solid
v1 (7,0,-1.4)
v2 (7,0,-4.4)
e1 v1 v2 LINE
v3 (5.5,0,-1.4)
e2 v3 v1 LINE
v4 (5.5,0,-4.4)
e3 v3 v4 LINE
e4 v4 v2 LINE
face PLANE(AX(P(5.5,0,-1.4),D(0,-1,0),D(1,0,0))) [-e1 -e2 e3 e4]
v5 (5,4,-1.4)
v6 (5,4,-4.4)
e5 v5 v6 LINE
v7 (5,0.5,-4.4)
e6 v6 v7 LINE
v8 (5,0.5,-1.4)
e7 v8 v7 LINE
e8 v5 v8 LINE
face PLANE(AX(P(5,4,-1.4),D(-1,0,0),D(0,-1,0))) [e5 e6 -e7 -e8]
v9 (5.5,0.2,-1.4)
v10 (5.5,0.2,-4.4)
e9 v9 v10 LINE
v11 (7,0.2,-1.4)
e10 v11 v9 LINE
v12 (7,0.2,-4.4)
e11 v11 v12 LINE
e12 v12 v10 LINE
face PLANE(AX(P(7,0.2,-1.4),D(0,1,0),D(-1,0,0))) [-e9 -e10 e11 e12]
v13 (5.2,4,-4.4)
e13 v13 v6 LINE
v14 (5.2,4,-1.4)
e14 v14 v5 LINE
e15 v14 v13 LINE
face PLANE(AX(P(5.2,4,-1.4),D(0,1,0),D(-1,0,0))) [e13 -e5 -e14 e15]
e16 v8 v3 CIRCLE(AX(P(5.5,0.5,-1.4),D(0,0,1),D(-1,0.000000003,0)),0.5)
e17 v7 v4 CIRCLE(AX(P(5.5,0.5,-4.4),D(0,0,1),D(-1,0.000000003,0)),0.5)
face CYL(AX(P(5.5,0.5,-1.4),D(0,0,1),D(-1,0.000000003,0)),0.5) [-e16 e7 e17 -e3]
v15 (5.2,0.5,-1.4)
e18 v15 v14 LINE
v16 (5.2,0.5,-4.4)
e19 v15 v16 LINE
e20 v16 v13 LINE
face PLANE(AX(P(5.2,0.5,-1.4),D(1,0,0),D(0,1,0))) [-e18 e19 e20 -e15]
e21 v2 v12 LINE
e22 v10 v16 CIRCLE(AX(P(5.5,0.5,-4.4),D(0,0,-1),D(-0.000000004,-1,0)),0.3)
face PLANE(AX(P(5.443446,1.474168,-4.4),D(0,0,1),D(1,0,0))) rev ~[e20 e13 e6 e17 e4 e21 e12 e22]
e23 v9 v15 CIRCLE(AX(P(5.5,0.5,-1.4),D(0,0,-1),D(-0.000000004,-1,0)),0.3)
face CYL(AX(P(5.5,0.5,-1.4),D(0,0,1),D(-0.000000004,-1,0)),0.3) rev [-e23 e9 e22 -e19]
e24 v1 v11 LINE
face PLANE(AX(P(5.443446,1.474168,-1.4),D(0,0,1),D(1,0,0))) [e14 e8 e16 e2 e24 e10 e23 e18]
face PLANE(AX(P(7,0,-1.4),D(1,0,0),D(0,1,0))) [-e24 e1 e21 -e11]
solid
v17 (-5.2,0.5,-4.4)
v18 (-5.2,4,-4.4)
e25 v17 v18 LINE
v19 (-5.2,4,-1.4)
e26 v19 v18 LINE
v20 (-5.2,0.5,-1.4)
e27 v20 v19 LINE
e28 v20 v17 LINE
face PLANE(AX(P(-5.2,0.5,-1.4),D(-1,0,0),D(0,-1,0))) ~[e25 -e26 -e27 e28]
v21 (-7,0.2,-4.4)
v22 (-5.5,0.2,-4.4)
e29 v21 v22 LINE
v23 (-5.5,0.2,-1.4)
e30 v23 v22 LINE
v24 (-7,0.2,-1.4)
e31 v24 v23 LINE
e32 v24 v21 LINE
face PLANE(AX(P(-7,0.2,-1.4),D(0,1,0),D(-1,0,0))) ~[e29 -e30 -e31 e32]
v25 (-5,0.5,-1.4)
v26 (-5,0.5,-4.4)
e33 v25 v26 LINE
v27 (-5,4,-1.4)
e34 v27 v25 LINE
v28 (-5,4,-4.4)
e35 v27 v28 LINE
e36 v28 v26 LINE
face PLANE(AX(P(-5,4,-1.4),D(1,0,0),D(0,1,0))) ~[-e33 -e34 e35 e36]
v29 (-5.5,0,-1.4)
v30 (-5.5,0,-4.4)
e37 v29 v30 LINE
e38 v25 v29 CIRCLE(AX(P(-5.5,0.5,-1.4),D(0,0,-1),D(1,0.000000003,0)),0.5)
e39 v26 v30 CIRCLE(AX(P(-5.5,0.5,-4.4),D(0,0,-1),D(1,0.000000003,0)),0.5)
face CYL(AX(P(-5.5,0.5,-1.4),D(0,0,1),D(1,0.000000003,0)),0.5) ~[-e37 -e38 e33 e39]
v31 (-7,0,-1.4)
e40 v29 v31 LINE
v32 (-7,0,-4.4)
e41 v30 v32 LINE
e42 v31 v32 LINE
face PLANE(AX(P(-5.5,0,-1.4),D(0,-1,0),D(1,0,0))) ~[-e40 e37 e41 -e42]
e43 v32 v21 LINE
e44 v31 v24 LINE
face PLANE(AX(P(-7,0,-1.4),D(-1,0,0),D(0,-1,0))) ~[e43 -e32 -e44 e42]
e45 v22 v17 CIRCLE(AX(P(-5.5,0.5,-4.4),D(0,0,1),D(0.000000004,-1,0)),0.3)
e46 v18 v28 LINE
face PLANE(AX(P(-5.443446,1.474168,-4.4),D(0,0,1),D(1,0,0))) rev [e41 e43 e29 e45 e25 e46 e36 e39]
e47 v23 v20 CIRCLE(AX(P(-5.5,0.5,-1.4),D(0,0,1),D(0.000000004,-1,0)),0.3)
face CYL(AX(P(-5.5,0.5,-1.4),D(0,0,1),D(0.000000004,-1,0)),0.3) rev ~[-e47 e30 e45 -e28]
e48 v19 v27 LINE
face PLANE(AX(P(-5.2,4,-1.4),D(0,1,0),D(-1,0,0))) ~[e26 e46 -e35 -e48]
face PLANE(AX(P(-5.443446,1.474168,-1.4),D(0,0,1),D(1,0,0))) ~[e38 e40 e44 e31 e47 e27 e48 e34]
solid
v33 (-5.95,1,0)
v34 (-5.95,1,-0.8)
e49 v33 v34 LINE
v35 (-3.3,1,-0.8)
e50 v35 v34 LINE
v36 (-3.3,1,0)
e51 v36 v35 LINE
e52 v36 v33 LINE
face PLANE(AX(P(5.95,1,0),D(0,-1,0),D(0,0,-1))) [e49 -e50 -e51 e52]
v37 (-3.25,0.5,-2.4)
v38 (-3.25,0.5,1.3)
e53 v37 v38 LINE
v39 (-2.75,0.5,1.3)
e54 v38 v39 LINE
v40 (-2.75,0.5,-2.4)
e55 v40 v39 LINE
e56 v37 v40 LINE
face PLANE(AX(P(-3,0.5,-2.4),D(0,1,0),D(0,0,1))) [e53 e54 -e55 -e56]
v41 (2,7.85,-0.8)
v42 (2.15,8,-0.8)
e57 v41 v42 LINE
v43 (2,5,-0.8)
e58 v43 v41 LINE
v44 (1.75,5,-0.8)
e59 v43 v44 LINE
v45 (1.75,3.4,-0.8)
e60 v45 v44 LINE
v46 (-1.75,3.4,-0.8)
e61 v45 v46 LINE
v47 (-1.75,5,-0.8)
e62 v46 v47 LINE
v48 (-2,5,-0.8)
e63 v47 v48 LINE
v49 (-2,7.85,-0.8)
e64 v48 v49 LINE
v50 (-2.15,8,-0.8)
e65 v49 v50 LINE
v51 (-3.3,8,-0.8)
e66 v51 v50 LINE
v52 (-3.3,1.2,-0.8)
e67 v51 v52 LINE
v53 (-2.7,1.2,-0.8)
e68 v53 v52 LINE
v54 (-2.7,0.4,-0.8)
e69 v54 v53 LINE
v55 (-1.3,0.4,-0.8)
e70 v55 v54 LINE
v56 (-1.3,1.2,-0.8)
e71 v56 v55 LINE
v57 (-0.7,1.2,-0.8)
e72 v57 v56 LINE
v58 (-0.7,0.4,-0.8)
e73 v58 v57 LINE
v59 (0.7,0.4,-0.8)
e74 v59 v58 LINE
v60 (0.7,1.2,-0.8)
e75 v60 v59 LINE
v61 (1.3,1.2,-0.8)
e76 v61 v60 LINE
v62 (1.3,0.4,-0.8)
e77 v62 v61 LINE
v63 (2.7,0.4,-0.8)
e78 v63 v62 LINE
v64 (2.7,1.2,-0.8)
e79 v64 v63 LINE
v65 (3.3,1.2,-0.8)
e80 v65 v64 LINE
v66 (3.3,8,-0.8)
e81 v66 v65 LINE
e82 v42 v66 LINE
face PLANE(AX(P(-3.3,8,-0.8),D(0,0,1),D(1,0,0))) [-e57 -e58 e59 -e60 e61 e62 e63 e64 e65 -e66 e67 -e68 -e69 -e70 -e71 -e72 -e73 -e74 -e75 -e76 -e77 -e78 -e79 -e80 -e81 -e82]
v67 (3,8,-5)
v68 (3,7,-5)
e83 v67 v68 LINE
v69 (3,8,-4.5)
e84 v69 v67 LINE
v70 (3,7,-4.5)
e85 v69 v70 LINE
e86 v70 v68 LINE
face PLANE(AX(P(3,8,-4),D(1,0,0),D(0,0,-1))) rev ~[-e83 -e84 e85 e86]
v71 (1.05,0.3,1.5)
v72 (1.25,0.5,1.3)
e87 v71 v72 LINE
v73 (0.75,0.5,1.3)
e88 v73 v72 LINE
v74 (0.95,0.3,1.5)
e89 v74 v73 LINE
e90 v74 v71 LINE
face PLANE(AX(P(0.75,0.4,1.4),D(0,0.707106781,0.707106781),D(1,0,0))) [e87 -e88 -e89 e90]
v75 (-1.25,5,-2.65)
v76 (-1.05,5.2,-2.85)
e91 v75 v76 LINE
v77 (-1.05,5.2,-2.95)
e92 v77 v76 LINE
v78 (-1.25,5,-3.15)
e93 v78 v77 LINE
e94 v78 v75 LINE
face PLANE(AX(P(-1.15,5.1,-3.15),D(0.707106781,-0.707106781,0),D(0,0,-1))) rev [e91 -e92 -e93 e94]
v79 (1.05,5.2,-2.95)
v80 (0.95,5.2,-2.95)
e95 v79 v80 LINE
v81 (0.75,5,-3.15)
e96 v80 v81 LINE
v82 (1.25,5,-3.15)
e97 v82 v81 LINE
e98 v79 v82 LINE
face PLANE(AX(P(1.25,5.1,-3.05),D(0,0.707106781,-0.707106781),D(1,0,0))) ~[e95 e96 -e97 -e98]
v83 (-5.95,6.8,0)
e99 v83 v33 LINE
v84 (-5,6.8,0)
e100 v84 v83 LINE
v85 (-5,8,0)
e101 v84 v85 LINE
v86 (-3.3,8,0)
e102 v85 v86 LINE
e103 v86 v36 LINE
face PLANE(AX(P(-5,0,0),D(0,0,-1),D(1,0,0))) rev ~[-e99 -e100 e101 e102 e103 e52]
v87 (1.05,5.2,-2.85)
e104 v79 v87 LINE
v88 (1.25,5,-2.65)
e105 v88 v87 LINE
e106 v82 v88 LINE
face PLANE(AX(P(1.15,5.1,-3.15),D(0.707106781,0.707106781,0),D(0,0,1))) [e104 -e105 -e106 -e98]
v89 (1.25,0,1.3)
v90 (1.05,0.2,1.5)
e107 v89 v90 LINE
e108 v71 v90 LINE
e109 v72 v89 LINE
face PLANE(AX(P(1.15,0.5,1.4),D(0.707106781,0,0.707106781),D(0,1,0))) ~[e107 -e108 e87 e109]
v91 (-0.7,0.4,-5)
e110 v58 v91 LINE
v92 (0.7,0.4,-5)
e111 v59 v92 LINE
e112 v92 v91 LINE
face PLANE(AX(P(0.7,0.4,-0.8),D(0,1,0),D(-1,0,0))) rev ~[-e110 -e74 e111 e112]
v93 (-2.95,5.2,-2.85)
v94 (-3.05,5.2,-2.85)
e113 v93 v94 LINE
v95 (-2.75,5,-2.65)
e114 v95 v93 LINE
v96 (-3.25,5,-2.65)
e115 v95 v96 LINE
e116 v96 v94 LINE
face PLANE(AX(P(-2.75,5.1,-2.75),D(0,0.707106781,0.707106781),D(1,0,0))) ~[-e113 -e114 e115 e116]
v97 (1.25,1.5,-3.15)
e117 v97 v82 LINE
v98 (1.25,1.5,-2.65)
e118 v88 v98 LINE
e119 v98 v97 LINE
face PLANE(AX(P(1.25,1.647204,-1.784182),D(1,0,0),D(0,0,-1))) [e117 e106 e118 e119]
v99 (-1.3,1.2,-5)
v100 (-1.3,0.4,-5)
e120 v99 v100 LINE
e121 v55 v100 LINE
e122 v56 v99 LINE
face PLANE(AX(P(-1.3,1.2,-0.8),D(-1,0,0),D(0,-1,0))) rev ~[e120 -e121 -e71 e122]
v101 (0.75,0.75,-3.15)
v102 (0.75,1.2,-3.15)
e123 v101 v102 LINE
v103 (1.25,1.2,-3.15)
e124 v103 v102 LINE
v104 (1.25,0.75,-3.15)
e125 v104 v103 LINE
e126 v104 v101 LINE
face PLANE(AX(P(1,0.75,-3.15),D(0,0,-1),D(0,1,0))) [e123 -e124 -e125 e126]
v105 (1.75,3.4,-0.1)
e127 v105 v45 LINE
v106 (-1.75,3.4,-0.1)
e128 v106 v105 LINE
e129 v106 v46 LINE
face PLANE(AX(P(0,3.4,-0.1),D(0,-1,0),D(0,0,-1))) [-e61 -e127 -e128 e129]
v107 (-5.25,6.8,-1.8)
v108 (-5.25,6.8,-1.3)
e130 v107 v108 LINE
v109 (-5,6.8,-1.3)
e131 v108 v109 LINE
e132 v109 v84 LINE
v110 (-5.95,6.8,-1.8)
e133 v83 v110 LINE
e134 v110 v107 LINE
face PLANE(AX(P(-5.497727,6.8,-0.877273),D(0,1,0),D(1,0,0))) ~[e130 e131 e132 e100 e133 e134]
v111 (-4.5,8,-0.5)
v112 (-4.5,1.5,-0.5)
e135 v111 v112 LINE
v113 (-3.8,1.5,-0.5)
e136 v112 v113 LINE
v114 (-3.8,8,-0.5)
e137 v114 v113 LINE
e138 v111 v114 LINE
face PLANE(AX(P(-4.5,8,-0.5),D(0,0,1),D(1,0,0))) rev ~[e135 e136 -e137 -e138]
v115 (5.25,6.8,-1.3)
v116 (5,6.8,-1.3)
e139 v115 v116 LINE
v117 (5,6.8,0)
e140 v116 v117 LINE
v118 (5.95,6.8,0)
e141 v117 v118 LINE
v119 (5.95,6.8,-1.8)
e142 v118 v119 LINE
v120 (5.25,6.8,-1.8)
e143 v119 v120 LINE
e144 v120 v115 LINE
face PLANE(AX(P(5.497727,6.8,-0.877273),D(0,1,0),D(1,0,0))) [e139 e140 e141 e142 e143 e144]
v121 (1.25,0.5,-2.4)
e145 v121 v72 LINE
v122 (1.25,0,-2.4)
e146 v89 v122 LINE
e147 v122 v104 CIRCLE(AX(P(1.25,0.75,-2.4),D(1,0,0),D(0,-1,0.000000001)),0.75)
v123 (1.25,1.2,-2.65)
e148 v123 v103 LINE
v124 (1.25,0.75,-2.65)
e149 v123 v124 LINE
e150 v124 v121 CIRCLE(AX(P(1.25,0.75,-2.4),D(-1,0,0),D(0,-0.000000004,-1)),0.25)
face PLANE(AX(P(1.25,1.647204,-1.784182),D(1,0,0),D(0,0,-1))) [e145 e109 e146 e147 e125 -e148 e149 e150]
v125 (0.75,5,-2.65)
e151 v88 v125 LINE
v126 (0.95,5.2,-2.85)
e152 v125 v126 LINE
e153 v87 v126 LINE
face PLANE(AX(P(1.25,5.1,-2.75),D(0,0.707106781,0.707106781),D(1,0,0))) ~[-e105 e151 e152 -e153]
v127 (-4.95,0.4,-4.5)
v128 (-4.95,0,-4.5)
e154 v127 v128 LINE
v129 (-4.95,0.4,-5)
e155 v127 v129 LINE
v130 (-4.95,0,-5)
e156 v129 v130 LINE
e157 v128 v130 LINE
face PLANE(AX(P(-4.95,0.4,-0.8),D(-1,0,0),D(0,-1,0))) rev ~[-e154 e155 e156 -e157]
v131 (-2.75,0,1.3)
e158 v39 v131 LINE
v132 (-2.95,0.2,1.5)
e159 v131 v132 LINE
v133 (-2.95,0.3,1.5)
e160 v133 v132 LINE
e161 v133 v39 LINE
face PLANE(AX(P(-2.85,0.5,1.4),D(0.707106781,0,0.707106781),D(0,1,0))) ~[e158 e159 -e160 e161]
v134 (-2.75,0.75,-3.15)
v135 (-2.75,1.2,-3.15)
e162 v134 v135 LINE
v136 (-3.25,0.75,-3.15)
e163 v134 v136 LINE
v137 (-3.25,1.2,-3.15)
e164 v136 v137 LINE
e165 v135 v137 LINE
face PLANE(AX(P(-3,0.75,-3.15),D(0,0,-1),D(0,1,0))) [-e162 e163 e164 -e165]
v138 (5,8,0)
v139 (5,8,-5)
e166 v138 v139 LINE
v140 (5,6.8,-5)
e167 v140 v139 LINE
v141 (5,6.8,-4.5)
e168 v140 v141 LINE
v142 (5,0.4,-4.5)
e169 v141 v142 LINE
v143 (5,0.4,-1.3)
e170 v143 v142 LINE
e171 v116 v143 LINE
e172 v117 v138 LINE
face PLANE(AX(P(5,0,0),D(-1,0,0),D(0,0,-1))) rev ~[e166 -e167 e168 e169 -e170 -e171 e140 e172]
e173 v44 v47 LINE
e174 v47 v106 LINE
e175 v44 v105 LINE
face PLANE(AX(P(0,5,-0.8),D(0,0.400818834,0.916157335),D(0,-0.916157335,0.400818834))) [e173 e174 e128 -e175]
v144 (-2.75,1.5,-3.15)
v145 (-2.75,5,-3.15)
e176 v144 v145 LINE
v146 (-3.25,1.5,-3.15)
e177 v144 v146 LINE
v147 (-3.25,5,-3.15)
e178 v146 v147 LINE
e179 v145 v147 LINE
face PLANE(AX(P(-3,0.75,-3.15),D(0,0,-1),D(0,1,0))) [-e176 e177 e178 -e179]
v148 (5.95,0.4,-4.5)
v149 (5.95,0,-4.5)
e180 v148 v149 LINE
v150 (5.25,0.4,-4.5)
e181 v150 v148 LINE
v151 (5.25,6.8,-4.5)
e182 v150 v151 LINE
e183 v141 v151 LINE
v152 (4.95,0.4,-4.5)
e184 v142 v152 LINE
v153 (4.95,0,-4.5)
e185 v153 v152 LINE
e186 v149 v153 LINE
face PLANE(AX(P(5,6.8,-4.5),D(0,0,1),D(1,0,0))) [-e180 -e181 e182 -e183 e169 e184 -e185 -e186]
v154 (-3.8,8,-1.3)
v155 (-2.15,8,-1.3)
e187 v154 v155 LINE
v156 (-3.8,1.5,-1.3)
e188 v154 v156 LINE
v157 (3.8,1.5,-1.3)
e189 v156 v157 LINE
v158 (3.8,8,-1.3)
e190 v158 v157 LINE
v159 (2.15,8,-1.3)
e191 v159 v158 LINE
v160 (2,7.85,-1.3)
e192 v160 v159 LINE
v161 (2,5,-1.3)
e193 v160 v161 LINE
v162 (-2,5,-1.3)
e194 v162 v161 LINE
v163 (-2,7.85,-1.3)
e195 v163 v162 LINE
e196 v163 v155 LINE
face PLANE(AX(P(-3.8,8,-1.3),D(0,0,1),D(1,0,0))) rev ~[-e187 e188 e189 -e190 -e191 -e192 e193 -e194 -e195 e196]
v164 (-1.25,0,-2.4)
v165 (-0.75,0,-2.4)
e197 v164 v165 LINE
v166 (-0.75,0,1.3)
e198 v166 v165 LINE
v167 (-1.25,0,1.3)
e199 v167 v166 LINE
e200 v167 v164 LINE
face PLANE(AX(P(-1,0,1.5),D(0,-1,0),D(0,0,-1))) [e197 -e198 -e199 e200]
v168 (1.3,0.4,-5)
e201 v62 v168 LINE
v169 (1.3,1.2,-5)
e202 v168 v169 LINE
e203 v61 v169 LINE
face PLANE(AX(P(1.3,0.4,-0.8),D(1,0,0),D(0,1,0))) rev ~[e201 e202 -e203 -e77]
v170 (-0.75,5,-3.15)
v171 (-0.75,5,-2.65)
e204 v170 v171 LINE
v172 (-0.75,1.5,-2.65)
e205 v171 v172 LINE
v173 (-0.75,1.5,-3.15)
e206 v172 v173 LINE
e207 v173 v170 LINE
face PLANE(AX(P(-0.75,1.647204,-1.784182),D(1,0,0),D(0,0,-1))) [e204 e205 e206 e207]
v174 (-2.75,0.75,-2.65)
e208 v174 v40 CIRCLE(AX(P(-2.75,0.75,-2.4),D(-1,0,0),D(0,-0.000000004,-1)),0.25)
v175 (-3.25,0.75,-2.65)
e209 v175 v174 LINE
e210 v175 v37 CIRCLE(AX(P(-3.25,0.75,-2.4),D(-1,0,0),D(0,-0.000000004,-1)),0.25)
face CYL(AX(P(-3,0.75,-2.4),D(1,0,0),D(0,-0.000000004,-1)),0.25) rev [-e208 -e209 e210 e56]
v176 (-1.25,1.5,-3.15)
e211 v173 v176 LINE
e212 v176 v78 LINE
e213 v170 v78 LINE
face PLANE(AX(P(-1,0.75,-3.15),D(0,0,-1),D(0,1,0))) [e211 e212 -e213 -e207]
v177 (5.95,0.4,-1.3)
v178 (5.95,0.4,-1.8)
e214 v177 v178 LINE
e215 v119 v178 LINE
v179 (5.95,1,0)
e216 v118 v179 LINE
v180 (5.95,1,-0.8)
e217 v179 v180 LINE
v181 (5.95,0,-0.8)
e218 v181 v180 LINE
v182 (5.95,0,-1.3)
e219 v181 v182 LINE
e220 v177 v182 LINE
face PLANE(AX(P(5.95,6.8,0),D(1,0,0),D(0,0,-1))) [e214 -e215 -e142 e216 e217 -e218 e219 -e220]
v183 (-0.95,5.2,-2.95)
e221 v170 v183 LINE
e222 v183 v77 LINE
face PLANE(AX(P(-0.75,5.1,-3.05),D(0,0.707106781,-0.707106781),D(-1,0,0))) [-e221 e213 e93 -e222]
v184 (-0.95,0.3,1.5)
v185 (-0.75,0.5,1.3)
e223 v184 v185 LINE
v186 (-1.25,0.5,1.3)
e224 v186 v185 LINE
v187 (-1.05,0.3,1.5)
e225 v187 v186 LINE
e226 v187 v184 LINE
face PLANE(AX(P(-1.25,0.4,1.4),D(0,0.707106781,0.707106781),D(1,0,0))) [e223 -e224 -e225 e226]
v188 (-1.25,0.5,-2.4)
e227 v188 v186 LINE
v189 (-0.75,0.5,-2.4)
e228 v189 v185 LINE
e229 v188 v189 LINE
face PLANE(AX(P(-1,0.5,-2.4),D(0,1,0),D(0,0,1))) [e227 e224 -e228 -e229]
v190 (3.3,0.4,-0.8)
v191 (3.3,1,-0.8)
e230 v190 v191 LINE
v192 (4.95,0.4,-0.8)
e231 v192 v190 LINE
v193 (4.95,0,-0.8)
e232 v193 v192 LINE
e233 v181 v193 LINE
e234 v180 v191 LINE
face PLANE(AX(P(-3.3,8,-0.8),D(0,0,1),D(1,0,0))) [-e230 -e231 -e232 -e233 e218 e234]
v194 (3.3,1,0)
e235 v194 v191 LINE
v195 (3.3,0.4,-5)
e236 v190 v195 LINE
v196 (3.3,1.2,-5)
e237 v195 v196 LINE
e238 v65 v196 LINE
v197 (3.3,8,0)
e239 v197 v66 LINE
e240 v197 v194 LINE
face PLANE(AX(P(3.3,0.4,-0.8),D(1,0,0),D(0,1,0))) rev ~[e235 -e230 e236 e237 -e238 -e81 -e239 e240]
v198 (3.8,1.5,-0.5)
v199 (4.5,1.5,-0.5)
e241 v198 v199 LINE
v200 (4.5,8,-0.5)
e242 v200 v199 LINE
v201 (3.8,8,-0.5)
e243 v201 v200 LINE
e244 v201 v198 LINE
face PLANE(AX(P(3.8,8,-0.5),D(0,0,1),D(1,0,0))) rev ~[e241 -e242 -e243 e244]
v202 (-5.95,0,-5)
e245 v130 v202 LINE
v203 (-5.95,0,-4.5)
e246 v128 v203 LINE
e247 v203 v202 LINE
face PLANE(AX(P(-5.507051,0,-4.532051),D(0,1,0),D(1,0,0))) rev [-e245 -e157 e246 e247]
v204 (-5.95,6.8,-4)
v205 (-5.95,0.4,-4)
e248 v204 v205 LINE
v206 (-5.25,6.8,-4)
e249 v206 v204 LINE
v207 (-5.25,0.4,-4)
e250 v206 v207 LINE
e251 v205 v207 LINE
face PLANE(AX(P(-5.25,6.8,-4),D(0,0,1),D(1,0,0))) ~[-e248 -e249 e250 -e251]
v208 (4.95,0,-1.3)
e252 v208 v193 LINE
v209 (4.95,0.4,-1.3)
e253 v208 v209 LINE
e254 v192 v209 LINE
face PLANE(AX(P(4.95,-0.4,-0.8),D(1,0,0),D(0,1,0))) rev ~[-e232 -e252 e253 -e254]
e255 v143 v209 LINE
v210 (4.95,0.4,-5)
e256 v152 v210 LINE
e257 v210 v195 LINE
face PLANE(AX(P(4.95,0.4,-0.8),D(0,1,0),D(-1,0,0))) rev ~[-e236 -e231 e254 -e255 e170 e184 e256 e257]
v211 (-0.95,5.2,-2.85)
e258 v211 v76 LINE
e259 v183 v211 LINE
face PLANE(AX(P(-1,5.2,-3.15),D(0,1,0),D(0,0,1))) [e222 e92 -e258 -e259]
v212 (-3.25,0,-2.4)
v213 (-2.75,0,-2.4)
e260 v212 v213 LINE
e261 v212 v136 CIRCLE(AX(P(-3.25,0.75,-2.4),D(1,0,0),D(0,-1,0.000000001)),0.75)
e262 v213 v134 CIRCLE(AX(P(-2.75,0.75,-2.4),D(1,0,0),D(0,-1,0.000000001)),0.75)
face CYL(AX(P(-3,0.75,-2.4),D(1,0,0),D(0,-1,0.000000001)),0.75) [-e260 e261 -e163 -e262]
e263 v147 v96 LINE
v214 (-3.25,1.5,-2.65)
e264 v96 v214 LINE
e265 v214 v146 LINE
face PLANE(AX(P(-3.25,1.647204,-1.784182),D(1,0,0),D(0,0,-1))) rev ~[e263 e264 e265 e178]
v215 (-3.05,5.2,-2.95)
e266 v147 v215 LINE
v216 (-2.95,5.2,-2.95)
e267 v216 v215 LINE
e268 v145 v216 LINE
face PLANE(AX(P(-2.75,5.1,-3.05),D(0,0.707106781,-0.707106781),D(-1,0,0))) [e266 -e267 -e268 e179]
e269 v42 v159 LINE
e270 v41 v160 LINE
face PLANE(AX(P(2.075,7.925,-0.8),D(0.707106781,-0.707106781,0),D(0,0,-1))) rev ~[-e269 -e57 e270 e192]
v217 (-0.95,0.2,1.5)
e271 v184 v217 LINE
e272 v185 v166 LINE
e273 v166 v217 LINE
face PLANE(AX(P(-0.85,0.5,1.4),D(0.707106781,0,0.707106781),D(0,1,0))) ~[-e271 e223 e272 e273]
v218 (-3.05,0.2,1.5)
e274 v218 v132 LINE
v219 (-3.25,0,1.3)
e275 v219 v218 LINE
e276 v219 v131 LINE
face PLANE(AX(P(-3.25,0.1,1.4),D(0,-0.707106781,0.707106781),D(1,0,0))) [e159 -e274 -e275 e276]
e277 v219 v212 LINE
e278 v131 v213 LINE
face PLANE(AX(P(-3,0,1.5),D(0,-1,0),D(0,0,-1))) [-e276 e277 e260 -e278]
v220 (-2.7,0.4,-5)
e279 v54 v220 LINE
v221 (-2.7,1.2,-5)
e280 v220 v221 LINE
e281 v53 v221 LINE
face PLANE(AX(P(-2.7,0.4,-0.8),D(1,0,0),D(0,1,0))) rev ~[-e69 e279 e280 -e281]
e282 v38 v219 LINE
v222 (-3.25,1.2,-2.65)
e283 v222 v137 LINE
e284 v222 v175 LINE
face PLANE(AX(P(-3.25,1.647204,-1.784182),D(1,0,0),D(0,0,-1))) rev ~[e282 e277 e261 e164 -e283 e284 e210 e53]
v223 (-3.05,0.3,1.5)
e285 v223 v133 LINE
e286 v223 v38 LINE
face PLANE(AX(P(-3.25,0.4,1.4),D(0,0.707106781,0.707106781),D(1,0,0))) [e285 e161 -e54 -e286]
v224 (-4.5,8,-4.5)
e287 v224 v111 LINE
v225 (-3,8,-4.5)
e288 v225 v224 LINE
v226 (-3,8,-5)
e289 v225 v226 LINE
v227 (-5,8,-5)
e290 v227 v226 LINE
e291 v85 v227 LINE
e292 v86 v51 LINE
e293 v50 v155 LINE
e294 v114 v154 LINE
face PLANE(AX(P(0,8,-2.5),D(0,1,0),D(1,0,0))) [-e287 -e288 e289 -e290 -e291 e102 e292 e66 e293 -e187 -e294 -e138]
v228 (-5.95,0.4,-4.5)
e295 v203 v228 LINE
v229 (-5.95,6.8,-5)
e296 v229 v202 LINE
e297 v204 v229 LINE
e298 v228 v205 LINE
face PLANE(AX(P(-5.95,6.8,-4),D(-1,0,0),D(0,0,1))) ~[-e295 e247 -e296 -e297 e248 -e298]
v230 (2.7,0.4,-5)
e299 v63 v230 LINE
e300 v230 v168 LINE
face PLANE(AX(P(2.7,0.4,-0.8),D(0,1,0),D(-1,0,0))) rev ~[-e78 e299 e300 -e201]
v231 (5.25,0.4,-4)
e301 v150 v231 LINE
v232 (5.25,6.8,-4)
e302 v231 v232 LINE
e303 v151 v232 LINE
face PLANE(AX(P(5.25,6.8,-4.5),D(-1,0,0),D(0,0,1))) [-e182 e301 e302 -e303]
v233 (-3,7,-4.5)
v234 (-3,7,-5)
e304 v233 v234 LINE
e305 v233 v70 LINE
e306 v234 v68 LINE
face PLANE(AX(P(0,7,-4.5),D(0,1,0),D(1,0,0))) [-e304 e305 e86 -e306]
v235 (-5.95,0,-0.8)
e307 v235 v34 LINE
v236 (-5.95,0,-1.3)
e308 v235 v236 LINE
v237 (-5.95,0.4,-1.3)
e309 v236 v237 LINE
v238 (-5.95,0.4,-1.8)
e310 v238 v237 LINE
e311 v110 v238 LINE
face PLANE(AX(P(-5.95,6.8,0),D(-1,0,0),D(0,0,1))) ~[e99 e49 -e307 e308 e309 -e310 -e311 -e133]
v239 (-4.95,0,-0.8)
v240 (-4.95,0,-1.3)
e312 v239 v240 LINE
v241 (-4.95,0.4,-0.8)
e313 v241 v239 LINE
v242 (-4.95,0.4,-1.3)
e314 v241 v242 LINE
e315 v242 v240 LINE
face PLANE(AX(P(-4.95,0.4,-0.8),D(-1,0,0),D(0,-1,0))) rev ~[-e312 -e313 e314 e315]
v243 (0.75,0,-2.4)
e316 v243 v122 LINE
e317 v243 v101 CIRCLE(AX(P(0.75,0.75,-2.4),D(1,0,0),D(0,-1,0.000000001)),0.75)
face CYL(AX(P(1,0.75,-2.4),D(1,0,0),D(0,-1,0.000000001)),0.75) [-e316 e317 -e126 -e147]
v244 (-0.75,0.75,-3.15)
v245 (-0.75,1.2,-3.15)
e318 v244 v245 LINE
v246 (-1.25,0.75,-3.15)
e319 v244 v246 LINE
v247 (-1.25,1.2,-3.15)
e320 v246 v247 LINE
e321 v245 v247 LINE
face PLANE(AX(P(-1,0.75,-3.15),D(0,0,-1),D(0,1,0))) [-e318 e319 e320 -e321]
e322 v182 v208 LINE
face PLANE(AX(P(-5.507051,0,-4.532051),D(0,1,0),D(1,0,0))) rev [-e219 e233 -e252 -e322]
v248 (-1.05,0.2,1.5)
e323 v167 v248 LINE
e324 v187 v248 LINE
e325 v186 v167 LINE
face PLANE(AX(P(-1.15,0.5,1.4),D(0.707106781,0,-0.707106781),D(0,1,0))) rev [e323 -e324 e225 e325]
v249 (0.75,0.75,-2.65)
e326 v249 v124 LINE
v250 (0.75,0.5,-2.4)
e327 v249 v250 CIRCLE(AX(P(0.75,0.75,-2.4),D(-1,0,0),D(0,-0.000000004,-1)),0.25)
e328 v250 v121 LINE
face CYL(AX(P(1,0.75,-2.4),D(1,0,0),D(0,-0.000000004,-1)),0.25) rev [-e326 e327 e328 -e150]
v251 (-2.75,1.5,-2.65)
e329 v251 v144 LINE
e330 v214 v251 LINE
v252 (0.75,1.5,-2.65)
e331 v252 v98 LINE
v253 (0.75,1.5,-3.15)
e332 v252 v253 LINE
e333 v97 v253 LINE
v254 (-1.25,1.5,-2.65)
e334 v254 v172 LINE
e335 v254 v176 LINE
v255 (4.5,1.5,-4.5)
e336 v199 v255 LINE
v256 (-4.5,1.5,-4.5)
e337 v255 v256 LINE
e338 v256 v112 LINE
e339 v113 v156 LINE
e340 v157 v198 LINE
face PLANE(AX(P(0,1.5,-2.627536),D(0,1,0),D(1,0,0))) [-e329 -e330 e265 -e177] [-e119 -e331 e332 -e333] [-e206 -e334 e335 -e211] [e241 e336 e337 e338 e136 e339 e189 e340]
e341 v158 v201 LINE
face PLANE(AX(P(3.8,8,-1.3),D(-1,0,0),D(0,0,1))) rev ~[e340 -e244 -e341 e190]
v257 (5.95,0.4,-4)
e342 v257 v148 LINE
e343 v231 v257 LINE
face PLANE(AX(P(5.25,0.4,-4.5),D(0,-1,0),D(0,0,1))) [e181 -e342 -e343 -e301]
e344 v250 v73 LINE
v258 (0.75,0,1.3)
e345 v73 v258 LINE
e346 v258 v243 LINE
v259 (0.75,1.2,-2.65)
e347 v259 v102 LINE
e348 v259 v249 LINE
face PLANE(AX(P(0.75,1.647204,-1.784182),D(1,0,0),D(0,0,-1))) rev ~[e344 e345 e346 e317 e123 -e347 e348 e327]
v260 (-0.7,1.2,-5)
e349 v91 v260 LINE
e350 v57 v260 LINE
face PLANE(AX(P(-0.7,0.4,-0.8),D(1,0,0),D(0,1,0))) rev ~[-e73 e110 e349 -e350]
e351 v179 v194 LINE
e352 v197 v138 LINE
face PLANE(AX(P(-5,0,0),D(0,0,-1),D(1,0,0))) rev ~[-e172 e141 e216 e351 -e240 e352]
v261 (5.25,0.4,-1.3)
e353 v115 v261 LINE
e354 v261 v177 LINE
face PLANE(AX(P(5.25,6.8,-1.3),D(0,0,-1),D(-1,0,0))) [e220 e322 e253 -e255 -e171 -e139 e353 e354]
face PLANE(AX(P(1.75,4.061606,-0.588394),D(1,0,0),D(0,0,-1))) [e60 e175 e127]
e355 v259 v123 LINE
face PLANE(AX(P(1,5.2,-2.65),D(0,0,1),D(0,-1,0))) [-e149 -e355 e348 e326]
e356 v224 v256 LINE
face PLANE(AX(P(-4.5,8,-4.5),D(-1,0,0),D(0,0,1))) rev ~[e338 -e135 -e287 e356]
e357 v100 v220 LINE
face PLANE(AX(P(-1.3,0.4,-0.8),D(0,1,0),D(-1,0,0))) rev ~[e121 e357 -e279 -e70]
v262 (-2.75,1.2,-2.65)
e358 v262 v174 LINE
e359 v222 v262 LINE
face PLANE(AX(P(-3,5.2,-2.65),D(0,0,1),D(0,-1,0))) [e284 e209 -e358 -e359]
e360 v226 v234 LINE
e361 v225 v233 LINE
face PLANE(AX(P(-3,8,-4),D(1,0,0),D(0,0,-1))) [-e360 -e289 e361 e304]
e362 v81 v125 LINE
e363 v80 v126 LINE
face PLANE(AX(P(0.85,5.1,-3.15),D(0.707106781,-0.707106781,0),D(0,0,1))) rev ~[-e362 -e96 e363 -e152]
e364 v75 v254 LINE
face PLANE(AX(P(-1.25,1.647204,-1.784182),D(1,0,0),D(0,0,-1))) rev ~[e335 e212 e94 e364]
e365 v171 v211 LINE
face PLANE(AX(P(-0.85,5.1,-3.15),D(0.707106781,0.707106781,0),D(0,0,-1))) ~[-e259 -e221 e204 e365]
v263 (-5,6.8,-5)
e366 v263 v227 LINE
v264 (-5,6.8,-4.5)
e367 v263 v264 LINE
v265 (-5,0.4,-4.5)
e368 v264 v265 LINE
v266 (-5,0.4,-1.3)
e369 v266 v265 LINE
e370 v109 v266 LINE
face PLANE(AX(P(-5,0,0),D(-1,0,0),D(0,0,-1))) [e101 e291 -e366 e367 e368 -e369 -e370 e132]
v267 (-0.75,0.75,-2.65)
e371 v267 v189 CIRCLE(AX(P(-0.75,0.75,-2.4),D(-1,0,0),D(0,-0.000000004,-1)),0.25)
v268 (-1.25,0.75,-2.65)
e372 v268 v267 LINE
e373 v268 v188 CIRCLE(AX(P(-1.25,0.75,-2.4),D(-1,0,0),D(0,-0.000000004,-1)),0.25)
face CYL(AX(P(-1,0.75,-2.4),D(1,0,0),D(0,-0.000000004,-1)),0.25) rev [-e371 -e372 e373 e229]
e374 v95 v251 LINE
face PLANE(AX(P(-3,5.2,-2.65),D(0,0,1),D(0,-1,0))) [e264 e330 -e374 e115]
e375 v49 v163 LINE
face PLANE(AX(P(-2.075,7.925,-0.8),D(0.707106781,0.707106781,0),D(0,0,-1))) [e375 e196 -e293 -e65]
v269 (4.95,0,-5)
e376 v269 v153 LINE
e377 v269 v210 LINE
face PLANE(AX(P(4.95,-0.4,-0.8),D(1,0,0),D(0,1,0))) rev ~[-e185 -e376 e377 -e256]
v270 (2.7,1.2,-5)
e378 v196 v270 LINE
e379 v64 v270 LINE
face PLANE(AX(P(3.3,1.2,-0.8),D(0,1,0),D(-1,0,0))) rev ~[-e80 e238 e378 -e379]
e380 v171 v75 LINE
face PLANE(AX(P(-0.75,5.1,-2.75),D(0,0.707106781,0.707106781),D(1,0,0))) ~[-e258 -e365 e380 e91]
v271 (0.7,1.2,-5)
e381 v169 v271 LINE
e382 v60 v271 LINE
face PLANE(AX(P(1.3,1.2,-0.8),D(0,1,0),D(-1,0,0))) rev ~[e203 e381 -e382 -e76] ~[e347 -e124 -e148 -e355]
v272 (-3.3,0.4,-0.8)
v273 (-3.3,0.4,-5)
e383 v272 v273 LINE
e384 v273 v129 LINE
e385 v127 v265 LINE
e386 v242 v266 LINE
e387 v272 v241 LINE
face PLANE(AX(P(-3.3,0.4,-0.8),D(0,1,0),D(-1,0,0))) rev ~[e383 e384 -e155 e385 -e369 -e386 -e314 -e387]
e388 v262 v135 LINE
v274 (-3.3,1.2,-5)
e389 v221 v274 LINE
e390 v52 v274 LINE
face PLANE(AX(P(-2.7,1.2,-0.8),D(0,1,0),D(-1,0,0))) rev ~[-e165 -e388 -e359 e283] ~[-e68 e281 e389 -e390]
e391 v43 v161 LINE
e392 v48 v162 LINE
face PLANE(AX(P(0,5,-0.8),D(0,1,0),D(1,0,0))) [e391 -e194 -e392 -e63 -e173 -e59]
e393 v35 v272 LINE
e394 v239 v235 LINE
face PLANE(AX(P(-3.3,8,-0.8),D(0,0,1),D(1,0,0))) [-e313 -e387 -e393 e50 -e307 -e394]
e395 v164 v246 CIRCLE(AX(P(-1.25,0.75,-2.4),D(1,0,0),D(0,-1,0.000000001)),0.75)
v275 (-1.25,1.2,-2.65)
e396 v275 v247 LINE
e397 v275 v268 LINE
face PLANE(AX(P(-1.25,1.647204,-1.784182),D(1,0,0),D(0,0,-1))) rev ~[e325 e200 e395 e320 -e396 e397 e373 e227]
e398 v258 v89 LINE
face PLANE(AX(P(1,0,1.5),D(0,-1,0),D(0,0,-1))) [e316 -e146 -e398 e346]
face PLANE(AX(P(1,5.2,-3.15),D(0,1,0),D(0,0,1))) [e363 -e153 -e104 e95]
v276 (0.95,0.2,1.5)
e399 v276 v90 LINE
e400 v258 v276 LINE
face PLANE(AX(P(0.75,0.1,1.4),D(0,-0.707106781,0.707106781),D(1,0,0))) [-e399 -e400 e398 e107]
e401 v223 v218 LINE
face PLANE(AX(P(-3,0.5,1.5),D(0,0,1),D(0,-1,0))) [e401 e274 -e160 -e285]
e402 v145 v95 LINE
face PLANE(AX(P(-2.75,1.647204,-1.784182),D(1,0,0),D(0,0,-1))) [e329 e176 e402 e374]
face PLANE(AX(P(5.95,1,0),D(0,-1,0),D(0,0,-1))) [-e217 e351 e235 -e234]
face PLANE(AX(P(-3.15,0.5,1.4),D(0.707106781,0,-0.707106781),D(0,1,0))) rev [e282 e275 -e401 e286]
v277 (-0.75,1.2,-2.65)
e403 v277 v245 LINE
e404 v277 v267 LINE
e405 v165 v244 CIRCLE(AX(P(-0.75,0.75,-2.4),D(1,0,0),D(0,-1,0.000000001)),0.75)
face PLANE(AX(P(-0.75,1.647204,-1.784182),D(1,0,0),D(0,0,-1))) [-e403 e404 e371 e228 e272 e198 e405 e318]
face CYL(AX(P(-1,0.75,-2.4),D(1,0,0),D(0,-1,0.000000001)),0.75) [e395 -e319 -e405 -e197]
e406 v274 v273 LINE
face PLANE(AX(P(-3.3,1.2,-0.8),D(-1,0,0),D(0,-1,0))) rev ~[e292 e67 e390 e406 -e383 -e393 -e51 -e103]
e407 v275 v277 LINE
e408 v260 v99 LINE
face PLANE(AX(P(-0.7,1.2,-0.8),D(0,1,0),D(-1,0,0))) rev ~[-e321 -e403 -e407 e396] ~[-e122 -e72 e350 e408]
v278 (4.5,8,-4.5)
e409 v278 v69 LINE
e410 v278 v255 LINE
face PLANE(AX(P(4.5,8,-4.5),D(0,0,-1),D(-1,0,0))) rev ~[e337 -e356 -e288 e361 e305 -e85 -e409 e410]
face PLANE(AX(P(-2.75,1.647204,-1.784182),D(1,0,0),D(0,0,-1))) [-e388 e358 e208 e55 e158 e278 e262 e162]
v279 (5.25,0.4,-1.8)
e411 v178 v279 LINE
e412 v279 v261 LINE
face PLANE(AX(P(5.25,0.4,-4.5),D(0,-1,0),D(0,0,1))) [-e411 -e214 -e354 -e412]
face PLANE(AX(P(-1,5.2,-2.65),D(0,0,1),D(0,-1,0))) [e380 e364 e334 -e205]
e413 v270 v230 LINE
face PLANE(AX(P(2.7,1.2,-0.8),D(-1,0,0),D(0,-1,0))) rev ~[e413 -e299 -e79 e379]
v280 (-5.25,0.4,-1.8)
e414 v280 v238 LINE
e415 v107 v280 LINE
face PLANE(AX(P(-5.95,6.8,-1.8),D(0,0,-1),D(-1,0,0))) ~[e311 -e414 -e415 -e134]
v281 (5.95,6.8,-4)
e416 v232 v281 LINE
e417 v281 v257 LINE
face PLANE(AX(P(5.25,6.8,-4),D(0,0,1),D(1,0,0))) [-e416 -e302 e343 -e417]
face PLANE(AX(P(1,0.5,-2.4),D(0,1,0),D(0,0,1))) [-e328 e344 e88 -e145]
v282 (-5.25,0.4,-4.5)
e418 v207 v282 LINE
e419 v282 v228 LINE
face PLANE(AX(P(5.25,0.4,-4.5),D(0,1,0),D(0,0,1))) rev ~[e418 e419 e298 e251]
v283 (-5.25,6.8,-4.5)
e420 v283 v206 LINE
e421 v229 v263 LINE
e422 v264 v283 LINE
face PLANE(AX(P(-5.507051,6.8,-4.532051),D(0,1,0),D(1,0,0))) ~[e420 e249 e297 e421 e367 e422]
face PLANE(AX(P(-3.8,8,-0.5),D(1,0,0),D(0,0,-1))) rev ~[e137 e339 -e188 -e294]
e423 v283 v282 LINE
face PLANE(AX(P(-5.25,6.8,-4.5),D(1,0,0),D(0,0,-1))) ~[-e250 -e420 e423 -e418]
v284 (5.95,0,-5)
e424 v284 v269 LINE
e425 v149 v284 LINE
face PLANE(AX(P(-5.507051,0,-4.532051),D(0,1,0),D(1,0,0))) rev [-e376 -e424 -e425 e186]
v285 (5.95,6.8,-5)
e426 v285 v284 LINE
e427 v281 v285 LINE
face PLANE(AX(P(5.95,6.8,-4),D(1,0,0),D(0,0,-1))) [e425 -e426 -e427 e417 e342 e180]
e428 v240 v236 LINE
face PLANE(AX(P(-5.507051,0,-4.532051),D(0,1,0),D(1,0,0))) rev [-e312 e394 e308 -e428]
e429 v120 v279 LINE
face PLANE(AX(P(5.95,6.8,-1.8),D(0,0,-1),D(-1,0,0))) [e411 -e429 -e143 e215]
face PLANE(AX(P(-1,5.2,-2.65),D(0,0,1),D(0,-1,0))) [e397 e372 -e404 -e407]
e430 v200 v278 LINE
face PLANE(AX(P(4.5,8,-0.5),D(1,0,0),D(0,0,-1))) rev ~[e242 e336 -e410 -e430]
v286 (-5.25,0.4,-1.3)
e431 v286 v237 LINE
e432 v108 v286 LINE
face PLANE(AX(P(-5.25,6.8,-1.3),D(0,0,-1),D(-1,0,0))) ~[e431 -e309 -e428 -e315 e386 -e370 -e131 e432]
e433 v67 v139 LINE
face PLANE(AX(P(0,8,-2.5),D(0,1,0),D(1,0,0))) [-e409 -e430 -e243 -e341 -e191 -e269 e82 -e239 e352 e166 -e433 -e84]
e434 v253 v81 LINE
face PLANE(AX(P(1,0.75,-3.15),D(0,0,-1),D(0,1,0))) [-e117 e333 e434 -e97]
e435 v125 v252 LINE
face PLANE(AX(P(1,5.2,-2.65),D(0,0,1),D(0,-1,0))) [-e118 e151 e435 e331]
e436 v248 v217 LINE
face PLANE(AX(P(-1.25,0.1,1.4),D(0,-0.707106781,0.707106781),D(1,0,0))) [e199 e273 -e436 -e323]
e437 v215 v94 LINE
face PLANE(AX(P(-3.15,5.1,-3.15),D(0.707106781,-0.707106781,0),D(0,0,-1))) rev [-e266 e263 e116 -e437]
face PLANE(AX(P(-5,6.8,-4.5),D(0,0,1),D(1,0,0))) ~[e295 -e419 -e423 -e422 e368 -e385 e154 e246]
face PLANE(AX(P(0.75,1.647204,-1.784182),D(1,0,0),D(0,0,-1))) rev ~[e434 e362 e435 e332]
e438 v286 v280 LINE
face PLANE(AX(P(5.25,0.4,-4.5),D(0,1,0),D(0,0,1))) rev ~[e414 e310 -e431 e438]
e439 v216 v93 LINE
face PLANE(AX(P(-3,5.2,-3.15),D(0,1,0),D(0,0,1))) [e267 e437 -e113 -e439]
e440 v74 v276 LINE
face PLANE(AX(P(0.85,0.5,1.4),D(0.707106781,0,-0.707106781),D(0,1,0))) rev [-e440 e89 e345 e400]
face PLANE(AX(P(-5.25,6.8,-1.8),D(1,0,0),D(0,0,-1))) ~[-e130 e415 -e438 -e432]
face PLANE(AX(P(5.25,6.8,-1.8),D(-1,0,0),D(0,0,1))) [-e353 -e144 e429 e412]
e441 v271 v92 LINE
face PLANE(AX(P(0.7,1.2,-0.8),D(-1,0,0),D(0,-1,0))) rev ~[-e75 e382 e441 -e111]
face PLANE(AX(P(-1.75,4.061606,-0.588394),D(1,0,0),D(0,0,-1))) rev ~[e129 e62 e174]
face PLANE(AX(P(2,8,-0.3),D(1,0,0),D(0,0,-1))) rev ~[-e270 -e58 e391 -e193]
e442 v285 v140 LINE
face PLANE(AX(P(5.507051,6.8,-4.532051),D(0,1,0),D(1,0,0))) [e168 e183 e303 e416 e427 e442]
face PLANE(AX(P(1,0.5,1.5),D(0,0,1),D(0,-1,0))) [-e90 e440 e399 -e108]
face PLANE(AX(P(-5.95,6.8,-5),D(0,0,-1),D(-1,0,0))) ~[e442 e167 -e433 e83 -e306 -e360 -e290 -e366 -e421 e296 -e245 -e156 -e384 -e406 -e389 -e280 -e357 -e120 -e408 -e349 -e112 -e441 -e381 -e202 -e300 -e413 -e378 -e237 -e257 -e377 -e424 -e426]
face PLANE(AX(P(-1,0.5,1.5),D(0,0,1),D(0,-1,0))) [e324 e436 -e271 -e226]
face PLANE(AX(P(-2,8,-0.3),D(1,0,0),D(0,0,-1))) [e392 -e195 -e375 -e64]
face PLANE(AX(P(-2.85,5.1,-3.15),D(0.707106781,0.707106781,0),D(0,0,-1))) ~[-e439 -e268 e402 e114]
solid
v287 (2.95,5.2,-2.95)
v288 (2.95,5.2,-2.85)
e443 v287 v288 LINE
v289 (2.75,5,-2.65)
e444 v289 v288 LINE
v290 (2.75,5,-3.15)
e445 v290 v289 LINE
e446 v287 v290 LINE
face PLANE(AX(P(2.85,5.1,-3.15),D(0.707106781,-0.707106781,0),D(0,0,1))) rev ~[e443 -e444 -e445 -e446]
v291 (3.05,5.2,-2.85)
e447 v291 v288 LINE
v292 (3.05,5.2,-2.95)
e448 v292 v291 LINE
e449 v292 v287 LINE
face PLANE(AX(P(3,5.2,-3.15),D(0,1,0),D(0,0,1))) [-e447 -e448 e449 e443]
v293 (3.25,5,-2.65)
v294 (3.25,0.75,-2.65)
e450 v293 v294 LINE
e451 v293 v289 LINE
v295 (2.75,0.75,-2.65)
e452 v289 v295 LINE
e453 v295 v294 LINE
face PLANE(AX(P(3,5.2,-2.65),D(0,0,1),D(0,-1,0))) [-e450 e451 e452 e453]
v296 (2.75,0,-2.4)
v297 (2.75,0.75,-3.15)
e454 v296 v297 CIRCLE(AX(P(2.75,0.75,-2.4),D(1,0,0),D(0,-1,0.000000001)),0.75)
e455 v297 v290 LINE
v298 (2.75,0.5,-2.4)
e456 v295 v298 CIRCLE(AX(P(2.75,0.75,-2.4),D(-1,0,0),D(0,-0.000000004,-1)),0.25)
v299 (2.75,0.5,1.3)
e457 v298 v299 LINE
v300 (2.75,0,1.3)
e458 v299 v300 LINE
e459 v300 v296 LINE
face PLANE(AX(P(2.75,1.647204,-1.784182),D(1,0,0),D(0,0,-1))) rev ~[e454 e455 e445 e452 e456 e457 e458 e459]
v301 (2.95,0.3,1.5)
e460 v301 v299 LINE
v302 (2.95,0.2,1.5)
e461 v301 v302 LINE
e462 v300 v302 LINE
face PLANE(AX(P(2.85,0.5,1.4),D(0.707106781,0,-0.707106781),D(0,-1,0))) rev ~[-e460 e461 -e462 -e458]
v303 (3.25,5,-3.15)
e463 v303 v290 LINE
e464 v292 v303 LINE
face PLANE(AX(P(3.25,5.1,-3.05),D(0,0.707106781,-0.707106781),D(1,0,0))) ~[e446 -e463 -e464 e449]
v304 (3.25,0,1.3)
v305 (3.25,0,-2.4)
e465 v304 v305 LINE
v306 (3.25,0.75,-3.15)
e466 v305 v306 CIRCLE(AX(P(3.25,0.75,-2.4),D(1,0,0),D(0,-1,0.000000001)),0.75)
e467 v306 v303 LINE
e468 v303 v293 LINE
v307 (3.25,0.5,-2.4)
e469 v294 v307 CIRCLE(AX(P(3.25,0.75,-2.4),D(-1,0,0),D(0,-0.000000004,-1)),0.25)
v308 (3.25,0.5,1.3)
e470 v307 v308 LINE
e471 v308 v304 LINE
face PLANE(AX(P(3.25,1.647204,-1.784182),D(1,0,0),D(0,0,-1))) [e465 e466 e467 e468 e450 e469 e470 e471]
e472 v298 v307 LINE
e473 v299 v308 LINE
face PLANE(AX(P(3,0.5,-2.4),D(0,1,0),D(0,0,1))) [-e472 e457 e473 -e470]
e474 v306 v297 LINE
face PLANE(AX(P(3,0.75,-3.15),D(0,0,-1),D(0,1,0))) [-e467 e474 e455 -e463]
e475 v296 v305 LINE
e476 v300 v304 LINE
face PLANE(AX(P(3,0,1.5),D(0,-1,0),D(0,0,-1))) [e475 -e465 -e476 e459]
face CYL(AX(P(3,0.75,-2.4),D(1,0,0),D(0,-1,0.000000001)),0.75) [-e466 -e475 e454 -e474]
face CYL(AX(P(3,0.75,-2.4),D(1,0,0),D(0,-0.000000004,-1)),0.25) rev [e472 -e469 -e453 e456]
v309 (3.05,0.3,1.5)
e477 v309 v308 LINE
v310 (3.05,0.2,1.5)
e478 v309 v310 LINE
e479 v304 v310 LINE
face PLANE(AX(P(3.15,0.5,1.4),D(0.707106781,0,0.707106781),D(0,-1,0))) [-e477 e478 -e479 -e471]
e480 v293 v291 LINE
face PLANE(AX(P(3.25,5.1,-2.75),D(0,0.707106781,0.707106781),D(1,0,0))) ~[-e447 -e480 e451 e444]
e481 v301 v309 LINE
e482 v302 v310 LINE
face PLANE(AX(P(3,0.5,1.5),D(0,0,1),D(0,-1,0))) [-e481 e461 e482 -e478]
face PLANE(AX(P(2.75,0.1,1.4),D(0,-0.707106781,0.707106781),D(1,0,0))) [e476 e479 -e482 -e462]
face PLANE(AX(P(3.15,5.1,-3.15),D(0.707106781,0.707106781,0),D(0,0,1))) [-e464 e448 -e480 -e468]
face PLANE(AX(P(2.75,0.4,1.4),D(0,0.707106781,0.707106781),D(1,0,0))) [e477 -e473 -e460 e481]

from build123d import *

# Parameters (mm, degrees)
ESQUISSE1_W                             = 10
ESQUISSE1_H                             = 5
BOSS_EXTRU_1_DEPTH                      = 8
ESQUISSE2_W                             = 6.6
ESQUISSE2_H                             = 1.6
ENL_V_MAT_EXTRU_1_DEPTH                 = 9
ENL_V_MAT_EXTRU_2_DEPTH                 = 6.5
BOSS_EXTRU_3_START                      = -1.2
BOSS_EXTRU_3_DEPTH                      = 6.8
ESQUISSE5_W                             = 6
ESQUISSE5_H                             = 1
ENL_V_MAT_EXTRU_3_DEPTH                 = 1
ESQUISSE6_W                             = 4
ESQUISSE6_H                             = 1
ENL_V_MAT_EXTRU_4_DEPTH                 = 3
ESQUISSE7_W                             = 0.8
ESQUISSE7_H                             = 1
ENL_V_MAT_EXTRU_5_DEPTH                 = 12.9
BOSS_EXTRU_2_DEPTH                      = 1.75
ENL_V_MAT_EXTRU_6_DEPTH                 = 5.2
ESQUISSE20_W                            = 3.2
ESQUISSE20_H                            = 0.4
ENL_V_MAT_EXTRU_7_DEPTH                 = 12.2
ENL_V_MAT_EXTRU_7_DEPTH_BACK            = 1.7
CHANFREIN1_SIZE                         = 0.15
EXTRU_MINCE1_DEPTH                      = 0.25
CHANFREIN2_SIZE                         = 0.2
R_P_TITION_LIN_AIRE1_COUNT              = 4
R_P_TITION_LIN_AIRE1_PITCH              = 2
CHANFREIN2_OF_R_P_TITION_LIN_AIRE1_SIZE = 0.2
EXTRU_MINCE2_START                      = 0.1
EXTRU_MINCE2_DEPTH                      = 3


with BuildPart() as part:
    # Esquisse1 → Boss.-Extru.1 (new body)
    with BuildSketch(Plane(origin=(0, 0, 0), x_dir=(1, 0, 0), z_dir=(0, 1, 0))):
        with Locations((0, 2.5)):
            Rectangle(ESQUISSE1_W, ESQUISSE1_H)
    extrude(amount=BOSS_EXTRU_1_DEPTH)

    # Esquisse2 → Enlèv. mat.-Extru.1 (cut, through all)
    with BuildSketch(Plane(origin=(0, 8, 0), x_dir=(1, 0, 0), z_dir=(0, 1, 0))):
        Rectangle(ESQUISSE2_W, ESQUISSE2_H)
    extrude(amount=-ENL_V_MAT_EXTRU_1_DEPTH, mode=Mode.SUBTRACT)

    # Esquisse4 → Enlèv. mat.-Extru.2 (cut)
    with BuildSketch(Plane(origin=(0, 8, 0), x_dir=(1, 0, 0), z_dir=(0, 1, 0))):
        Polygon((-3.8, 1.3), (3.8, 1.3), (3.8, 0.5), (4.5, 0.5), (4.5, 4.5), (-4.5, 4.5), (-4.5, 0.5), (-3.8, 0.5), align=None)
    extrude(amount=-ENL_V_MAT_EXTRU_2_DEPTH, mode=Mode.SUBTRACT)

    # Esquisse17 → Boss.-Extru.3 (add)
    with BuildSketch(Plane(origin=(0, 8, 0), x_dir=(1, 0, 0), z_dir=(0, 1, 0)).offset(BOSS_EXTRU_3_START)):
        Polygon((5.95, 5), (5, 5), (5, 4.5), (5.25, 4.5), (5.25, 4), (5.95, 4), align=None)
        Polygon((5.25, 1.3), (5, 1.3), (5, 0), (5.95, 0), (5.95, 1.8), (5.25, 1.8), align=None)
    boss_extru_3 = extrude(amount=-BOSS_EXTRU_3_DEPTH)

    # Symétrie3: Boss.-Extru.3 across plane
    add(boss_extru_3.mirror(Plane(origin=(0, 0, 0), x_dir=(0, 0, 1), z_dir=(1, 0, 0))))

    # Esquisse5 → Enlèv. mat.-Extru.3 (cut)
    with BuildSketch(Plane(origin=(0, 8, 0), x_dir=(1, 0, 0), z_dir=(0, 1, 0))):
        with Locations((0, 4.5)):
            Rectangle(ESQUISSE5_W, ESQUISSE5_H)
    extrude(amount=-ENL_V_MAT_EXTRU_3_DEPTH, mode=Mode.SUBTRACT)

    # Esquisse6 → Enlèv. mat.-Extru.4 (cut)
    with BuildSketch(Plane(origin=(0, 8, 0), x_dir=(1, 0, 0), z_dir=(0, 1, 0))):
        with Locations((0, 0.8)):
            Rectangle(ESQUISSE6_W, ESQUISSE6_H)
    extrude(amount=-ENL_V_MAT_EXTRU_4_DEPTH, mode=Mode.SUBTRACT)

    # Esquisse7 → Enlèv. mat.-Extru.5 (cut, through all)
    with BuildSketch(Plane(origin=(5.95, 0, 0), x_dir=(0, 0, -1), z_dir=(1, 0, 0))):
        with Locations((0.4, 0.5)):
            Rectangle(ESQUISSE7_W, ESQUISSE7_H)
    extrude(amount=-ENL_V_MAT_EXTRU_5_DEPTH, mode=Mode.SUBTRACT)

    # Esquisse11 → Boss.-Extru.2 (add, symmetric)
    with BuildSketch(Plane(origin=(0, 0, 0), x_dir=(0, 0, -1), z_dir=(1, 0, 0))):
        Polygon((0.8, 5), (0.1, 3.4), (0.8, 3.4), align=None)
    extrude(amount=BOSS_EXTRU_2_DEPTH, both=True)

    # Esquisse18 → Enlèv. mat.-Extru.6 (cut, through all)
    with BuildSketch(Plane.XY.offset(-0.8)):
        Polygon((-4.95, 0.4), (-4.95, -0.4), (4.95, -0.4), (4.95, 0.4), (3.3, 0.4), (3.3, 1.2), (2.7, 1.2), (2.7, 0.4), (1.3, 0.4), (1.3, 1.2), (0.7, 1.2), (0.7, 0.4), (-0.7, 0.4), (-0.7, 1.2), (-1.3, 1.2), (-1.3, 0.4), (-2.7, 0.4), (-2.7, 1.2), (-3.3, 1.2), (-3.3, 0.4), align=None)
    extrude(amount=-ENL_V_MAT_EXTRU_6_DEPTH, mode=Mode.SUBTRACT)

    # Esquisse20 → Enlèv. mat.-Extru.7 (cut, two sides)
    with BuildSketch(Plane.ZY.offset(-5.25)) as enl_v_mat_extru_7_sk:
        with Locations((-2.9, 0.2)):
            Rectangle(ESQUISSE20_W, ESQUISSE20_H)
    extrude(amount=ENL_V_MAT_EXTRU_7_DEPTH, mode=Mode.SUBTRACT)
    extrude(enl_v_mat_extru_7_sk.sketch, amount=-ENL_V_MAT_EXTRU_7_DEPTH_BACK, mode=Mode.SUBTRACT)

    # Chanfrein1
    chanfrein1_edges = [part.edges().sort_by_distance(p)[0] for p in [
        (2, 8, -1.05),
        (-2, 8, -1.05),
    ]]
    chamfer(chanfrein1_edges, length=CHANFREIN1_SIZE)


with BuildPart() as body_2:
    # Esquisse21 → Extru.-Mince1 (new body, symmetric)
    with BuildSketch(Plane(origin=(3, 0, 0), x_dir=(0, 0, -1), z_dir=(1, 0, 0))):
        with BuildLine():
            Line((2.65, 5.2), (2.65, 0.75))
            ThreePointArc((2.65, 0.75), (2.576776695, 0.573223305), (2.4, 0.5))
            Line((2.4, 0.5), (-1.5, 0.5))
            Line((-1.5, 0.5), (-1.5, 0))
            Line((-1.5, 0), (2.4, 0))
            ThreePointArc((2.4, 0), (2.930330086, 0.219669914), (3.15, 0.75))
            Line((3.15, 0.75), (3.15, 5.2))
            Line((3.15, 5.2), (2.65, 5.2))
        make_face()
    extru_mince1 = extrude(amount=EXTRU_MINCE1_DEPTH, both=True)

    # Chanfrein2
    chanfrein2_edges = [body_2.edges().sort_by_distance(p)[0] for p in [
        (3, 5.2, -2.65),
        (3, 5.2, -3.15),
        (3, 0, 1.5),
        (3, 0.5, 1.5),
        (3.25, 5.2, -2.9),
        (3.25, 0.25, 1.5),
        (2.75, 5.2, -2.9),
        (2.75, 0.25, 1.5),
    ]]
    chamfer(chanfrein2_edges, length=CHANFREIN2_SIZE)


with BuildPart() as part_1:
    add(part.part)

    # Répétition linéaire1: Extru.-Mince1 ×4
    with Locations(*[(-i * R_P_TITION_LIN_AIRE1_PITCH, 0, 0) for i in range(1, R_P_TITION_LIN_AIRE1_COUNT)]):
        add(extru_mince1)

    # Chanfrein2 of Répétition linéaire1
    chanfrein2_of_r_p_tition_lin_aire1_edges = [part_1.edges().sort_by_distance(p)[0] for p in [
        (1, 5.2, -2.65),
        (1, 5.2, -3.15),
        (1, 0, 1.5),
        (1, 0.5, 1.5),
        (1.25, 5.2, -2.9),
        (1.25, 0.25, 1.5),
        (0.75, 5.2, -2.9),
        (0.75, 0.25, 1.5),
        (-1, 5.2, -2.65),
        (-1, 5.2, -3.15),
        (-1, 0, 1.5),
        (-1, 0.5, 1.5),
        (-0.75, 5.2, -2.9),
        (-0.75, 0.25, 1.5),
        (-1.25, 5.2, -2.9),
        (-1.25, 0.25, 1.5),
        (-3, 5.2, -2.65),
        (-3, 5.2, -3.15),
        (-3, 0, 1.5),
        (-3, 0.5, 1.5),
        (-2.75, 5.2, -2.9),
        (-2.75, 0.25, 1.5),
        (-3.25, 5.2, -2.9),
        (-3.25, 0.25, 1.5),
    ]]
    chamfer(chanfrein2_of_r_p_tition_lin_aire1_edges, length=CHANFREIN2_OF_R_P_TITION_LIN_AIRE1_SIZE)


with BuildPart() as body_3:
    # Esquisse22 → Extru.-Mince2 (new body)
    with BuildSketch(Plane(origin=(0, 0, -1.3), x_dir=(-1, 0, 0), z_dir=(0, 0, -1)).offset(EXTRU_MINCE2_START)):
        with BuildLine():
            Line((-5, 4), (-5, 0.5))
            ThreePointArc((-5, 0.5), (-5.146446609, 0.146446609), (-5.5, 0))
            Line((-5.5, 0), (-7, 0))
            Line((-7, 0), (-7, 0.2))
            Line((-7, 0.2), (-5.5, 0.2))
            ThreePointArc((-5.5, 0.2), (-5.287867966, 0.287867966), (-5.2, 0.5))
            Line((-5.2, 0.5), (-5.2, 4))
            Line((-5.2, 4), (-5, 4))
        make_face()
    extrude(amount=EXTRU_MINCE2_DEPTH)


with BuildPart() as body_4:
    # Symétrie4: mirrored copy
    add(body_3.part.mirror(Plane(origin=(0, 0, 0), x_dir=(0, 0, 1), z_dir=(1, 0, 0))))


solid = Compound([body_2.part, part_1.part, body_3.part, body_4.part])
